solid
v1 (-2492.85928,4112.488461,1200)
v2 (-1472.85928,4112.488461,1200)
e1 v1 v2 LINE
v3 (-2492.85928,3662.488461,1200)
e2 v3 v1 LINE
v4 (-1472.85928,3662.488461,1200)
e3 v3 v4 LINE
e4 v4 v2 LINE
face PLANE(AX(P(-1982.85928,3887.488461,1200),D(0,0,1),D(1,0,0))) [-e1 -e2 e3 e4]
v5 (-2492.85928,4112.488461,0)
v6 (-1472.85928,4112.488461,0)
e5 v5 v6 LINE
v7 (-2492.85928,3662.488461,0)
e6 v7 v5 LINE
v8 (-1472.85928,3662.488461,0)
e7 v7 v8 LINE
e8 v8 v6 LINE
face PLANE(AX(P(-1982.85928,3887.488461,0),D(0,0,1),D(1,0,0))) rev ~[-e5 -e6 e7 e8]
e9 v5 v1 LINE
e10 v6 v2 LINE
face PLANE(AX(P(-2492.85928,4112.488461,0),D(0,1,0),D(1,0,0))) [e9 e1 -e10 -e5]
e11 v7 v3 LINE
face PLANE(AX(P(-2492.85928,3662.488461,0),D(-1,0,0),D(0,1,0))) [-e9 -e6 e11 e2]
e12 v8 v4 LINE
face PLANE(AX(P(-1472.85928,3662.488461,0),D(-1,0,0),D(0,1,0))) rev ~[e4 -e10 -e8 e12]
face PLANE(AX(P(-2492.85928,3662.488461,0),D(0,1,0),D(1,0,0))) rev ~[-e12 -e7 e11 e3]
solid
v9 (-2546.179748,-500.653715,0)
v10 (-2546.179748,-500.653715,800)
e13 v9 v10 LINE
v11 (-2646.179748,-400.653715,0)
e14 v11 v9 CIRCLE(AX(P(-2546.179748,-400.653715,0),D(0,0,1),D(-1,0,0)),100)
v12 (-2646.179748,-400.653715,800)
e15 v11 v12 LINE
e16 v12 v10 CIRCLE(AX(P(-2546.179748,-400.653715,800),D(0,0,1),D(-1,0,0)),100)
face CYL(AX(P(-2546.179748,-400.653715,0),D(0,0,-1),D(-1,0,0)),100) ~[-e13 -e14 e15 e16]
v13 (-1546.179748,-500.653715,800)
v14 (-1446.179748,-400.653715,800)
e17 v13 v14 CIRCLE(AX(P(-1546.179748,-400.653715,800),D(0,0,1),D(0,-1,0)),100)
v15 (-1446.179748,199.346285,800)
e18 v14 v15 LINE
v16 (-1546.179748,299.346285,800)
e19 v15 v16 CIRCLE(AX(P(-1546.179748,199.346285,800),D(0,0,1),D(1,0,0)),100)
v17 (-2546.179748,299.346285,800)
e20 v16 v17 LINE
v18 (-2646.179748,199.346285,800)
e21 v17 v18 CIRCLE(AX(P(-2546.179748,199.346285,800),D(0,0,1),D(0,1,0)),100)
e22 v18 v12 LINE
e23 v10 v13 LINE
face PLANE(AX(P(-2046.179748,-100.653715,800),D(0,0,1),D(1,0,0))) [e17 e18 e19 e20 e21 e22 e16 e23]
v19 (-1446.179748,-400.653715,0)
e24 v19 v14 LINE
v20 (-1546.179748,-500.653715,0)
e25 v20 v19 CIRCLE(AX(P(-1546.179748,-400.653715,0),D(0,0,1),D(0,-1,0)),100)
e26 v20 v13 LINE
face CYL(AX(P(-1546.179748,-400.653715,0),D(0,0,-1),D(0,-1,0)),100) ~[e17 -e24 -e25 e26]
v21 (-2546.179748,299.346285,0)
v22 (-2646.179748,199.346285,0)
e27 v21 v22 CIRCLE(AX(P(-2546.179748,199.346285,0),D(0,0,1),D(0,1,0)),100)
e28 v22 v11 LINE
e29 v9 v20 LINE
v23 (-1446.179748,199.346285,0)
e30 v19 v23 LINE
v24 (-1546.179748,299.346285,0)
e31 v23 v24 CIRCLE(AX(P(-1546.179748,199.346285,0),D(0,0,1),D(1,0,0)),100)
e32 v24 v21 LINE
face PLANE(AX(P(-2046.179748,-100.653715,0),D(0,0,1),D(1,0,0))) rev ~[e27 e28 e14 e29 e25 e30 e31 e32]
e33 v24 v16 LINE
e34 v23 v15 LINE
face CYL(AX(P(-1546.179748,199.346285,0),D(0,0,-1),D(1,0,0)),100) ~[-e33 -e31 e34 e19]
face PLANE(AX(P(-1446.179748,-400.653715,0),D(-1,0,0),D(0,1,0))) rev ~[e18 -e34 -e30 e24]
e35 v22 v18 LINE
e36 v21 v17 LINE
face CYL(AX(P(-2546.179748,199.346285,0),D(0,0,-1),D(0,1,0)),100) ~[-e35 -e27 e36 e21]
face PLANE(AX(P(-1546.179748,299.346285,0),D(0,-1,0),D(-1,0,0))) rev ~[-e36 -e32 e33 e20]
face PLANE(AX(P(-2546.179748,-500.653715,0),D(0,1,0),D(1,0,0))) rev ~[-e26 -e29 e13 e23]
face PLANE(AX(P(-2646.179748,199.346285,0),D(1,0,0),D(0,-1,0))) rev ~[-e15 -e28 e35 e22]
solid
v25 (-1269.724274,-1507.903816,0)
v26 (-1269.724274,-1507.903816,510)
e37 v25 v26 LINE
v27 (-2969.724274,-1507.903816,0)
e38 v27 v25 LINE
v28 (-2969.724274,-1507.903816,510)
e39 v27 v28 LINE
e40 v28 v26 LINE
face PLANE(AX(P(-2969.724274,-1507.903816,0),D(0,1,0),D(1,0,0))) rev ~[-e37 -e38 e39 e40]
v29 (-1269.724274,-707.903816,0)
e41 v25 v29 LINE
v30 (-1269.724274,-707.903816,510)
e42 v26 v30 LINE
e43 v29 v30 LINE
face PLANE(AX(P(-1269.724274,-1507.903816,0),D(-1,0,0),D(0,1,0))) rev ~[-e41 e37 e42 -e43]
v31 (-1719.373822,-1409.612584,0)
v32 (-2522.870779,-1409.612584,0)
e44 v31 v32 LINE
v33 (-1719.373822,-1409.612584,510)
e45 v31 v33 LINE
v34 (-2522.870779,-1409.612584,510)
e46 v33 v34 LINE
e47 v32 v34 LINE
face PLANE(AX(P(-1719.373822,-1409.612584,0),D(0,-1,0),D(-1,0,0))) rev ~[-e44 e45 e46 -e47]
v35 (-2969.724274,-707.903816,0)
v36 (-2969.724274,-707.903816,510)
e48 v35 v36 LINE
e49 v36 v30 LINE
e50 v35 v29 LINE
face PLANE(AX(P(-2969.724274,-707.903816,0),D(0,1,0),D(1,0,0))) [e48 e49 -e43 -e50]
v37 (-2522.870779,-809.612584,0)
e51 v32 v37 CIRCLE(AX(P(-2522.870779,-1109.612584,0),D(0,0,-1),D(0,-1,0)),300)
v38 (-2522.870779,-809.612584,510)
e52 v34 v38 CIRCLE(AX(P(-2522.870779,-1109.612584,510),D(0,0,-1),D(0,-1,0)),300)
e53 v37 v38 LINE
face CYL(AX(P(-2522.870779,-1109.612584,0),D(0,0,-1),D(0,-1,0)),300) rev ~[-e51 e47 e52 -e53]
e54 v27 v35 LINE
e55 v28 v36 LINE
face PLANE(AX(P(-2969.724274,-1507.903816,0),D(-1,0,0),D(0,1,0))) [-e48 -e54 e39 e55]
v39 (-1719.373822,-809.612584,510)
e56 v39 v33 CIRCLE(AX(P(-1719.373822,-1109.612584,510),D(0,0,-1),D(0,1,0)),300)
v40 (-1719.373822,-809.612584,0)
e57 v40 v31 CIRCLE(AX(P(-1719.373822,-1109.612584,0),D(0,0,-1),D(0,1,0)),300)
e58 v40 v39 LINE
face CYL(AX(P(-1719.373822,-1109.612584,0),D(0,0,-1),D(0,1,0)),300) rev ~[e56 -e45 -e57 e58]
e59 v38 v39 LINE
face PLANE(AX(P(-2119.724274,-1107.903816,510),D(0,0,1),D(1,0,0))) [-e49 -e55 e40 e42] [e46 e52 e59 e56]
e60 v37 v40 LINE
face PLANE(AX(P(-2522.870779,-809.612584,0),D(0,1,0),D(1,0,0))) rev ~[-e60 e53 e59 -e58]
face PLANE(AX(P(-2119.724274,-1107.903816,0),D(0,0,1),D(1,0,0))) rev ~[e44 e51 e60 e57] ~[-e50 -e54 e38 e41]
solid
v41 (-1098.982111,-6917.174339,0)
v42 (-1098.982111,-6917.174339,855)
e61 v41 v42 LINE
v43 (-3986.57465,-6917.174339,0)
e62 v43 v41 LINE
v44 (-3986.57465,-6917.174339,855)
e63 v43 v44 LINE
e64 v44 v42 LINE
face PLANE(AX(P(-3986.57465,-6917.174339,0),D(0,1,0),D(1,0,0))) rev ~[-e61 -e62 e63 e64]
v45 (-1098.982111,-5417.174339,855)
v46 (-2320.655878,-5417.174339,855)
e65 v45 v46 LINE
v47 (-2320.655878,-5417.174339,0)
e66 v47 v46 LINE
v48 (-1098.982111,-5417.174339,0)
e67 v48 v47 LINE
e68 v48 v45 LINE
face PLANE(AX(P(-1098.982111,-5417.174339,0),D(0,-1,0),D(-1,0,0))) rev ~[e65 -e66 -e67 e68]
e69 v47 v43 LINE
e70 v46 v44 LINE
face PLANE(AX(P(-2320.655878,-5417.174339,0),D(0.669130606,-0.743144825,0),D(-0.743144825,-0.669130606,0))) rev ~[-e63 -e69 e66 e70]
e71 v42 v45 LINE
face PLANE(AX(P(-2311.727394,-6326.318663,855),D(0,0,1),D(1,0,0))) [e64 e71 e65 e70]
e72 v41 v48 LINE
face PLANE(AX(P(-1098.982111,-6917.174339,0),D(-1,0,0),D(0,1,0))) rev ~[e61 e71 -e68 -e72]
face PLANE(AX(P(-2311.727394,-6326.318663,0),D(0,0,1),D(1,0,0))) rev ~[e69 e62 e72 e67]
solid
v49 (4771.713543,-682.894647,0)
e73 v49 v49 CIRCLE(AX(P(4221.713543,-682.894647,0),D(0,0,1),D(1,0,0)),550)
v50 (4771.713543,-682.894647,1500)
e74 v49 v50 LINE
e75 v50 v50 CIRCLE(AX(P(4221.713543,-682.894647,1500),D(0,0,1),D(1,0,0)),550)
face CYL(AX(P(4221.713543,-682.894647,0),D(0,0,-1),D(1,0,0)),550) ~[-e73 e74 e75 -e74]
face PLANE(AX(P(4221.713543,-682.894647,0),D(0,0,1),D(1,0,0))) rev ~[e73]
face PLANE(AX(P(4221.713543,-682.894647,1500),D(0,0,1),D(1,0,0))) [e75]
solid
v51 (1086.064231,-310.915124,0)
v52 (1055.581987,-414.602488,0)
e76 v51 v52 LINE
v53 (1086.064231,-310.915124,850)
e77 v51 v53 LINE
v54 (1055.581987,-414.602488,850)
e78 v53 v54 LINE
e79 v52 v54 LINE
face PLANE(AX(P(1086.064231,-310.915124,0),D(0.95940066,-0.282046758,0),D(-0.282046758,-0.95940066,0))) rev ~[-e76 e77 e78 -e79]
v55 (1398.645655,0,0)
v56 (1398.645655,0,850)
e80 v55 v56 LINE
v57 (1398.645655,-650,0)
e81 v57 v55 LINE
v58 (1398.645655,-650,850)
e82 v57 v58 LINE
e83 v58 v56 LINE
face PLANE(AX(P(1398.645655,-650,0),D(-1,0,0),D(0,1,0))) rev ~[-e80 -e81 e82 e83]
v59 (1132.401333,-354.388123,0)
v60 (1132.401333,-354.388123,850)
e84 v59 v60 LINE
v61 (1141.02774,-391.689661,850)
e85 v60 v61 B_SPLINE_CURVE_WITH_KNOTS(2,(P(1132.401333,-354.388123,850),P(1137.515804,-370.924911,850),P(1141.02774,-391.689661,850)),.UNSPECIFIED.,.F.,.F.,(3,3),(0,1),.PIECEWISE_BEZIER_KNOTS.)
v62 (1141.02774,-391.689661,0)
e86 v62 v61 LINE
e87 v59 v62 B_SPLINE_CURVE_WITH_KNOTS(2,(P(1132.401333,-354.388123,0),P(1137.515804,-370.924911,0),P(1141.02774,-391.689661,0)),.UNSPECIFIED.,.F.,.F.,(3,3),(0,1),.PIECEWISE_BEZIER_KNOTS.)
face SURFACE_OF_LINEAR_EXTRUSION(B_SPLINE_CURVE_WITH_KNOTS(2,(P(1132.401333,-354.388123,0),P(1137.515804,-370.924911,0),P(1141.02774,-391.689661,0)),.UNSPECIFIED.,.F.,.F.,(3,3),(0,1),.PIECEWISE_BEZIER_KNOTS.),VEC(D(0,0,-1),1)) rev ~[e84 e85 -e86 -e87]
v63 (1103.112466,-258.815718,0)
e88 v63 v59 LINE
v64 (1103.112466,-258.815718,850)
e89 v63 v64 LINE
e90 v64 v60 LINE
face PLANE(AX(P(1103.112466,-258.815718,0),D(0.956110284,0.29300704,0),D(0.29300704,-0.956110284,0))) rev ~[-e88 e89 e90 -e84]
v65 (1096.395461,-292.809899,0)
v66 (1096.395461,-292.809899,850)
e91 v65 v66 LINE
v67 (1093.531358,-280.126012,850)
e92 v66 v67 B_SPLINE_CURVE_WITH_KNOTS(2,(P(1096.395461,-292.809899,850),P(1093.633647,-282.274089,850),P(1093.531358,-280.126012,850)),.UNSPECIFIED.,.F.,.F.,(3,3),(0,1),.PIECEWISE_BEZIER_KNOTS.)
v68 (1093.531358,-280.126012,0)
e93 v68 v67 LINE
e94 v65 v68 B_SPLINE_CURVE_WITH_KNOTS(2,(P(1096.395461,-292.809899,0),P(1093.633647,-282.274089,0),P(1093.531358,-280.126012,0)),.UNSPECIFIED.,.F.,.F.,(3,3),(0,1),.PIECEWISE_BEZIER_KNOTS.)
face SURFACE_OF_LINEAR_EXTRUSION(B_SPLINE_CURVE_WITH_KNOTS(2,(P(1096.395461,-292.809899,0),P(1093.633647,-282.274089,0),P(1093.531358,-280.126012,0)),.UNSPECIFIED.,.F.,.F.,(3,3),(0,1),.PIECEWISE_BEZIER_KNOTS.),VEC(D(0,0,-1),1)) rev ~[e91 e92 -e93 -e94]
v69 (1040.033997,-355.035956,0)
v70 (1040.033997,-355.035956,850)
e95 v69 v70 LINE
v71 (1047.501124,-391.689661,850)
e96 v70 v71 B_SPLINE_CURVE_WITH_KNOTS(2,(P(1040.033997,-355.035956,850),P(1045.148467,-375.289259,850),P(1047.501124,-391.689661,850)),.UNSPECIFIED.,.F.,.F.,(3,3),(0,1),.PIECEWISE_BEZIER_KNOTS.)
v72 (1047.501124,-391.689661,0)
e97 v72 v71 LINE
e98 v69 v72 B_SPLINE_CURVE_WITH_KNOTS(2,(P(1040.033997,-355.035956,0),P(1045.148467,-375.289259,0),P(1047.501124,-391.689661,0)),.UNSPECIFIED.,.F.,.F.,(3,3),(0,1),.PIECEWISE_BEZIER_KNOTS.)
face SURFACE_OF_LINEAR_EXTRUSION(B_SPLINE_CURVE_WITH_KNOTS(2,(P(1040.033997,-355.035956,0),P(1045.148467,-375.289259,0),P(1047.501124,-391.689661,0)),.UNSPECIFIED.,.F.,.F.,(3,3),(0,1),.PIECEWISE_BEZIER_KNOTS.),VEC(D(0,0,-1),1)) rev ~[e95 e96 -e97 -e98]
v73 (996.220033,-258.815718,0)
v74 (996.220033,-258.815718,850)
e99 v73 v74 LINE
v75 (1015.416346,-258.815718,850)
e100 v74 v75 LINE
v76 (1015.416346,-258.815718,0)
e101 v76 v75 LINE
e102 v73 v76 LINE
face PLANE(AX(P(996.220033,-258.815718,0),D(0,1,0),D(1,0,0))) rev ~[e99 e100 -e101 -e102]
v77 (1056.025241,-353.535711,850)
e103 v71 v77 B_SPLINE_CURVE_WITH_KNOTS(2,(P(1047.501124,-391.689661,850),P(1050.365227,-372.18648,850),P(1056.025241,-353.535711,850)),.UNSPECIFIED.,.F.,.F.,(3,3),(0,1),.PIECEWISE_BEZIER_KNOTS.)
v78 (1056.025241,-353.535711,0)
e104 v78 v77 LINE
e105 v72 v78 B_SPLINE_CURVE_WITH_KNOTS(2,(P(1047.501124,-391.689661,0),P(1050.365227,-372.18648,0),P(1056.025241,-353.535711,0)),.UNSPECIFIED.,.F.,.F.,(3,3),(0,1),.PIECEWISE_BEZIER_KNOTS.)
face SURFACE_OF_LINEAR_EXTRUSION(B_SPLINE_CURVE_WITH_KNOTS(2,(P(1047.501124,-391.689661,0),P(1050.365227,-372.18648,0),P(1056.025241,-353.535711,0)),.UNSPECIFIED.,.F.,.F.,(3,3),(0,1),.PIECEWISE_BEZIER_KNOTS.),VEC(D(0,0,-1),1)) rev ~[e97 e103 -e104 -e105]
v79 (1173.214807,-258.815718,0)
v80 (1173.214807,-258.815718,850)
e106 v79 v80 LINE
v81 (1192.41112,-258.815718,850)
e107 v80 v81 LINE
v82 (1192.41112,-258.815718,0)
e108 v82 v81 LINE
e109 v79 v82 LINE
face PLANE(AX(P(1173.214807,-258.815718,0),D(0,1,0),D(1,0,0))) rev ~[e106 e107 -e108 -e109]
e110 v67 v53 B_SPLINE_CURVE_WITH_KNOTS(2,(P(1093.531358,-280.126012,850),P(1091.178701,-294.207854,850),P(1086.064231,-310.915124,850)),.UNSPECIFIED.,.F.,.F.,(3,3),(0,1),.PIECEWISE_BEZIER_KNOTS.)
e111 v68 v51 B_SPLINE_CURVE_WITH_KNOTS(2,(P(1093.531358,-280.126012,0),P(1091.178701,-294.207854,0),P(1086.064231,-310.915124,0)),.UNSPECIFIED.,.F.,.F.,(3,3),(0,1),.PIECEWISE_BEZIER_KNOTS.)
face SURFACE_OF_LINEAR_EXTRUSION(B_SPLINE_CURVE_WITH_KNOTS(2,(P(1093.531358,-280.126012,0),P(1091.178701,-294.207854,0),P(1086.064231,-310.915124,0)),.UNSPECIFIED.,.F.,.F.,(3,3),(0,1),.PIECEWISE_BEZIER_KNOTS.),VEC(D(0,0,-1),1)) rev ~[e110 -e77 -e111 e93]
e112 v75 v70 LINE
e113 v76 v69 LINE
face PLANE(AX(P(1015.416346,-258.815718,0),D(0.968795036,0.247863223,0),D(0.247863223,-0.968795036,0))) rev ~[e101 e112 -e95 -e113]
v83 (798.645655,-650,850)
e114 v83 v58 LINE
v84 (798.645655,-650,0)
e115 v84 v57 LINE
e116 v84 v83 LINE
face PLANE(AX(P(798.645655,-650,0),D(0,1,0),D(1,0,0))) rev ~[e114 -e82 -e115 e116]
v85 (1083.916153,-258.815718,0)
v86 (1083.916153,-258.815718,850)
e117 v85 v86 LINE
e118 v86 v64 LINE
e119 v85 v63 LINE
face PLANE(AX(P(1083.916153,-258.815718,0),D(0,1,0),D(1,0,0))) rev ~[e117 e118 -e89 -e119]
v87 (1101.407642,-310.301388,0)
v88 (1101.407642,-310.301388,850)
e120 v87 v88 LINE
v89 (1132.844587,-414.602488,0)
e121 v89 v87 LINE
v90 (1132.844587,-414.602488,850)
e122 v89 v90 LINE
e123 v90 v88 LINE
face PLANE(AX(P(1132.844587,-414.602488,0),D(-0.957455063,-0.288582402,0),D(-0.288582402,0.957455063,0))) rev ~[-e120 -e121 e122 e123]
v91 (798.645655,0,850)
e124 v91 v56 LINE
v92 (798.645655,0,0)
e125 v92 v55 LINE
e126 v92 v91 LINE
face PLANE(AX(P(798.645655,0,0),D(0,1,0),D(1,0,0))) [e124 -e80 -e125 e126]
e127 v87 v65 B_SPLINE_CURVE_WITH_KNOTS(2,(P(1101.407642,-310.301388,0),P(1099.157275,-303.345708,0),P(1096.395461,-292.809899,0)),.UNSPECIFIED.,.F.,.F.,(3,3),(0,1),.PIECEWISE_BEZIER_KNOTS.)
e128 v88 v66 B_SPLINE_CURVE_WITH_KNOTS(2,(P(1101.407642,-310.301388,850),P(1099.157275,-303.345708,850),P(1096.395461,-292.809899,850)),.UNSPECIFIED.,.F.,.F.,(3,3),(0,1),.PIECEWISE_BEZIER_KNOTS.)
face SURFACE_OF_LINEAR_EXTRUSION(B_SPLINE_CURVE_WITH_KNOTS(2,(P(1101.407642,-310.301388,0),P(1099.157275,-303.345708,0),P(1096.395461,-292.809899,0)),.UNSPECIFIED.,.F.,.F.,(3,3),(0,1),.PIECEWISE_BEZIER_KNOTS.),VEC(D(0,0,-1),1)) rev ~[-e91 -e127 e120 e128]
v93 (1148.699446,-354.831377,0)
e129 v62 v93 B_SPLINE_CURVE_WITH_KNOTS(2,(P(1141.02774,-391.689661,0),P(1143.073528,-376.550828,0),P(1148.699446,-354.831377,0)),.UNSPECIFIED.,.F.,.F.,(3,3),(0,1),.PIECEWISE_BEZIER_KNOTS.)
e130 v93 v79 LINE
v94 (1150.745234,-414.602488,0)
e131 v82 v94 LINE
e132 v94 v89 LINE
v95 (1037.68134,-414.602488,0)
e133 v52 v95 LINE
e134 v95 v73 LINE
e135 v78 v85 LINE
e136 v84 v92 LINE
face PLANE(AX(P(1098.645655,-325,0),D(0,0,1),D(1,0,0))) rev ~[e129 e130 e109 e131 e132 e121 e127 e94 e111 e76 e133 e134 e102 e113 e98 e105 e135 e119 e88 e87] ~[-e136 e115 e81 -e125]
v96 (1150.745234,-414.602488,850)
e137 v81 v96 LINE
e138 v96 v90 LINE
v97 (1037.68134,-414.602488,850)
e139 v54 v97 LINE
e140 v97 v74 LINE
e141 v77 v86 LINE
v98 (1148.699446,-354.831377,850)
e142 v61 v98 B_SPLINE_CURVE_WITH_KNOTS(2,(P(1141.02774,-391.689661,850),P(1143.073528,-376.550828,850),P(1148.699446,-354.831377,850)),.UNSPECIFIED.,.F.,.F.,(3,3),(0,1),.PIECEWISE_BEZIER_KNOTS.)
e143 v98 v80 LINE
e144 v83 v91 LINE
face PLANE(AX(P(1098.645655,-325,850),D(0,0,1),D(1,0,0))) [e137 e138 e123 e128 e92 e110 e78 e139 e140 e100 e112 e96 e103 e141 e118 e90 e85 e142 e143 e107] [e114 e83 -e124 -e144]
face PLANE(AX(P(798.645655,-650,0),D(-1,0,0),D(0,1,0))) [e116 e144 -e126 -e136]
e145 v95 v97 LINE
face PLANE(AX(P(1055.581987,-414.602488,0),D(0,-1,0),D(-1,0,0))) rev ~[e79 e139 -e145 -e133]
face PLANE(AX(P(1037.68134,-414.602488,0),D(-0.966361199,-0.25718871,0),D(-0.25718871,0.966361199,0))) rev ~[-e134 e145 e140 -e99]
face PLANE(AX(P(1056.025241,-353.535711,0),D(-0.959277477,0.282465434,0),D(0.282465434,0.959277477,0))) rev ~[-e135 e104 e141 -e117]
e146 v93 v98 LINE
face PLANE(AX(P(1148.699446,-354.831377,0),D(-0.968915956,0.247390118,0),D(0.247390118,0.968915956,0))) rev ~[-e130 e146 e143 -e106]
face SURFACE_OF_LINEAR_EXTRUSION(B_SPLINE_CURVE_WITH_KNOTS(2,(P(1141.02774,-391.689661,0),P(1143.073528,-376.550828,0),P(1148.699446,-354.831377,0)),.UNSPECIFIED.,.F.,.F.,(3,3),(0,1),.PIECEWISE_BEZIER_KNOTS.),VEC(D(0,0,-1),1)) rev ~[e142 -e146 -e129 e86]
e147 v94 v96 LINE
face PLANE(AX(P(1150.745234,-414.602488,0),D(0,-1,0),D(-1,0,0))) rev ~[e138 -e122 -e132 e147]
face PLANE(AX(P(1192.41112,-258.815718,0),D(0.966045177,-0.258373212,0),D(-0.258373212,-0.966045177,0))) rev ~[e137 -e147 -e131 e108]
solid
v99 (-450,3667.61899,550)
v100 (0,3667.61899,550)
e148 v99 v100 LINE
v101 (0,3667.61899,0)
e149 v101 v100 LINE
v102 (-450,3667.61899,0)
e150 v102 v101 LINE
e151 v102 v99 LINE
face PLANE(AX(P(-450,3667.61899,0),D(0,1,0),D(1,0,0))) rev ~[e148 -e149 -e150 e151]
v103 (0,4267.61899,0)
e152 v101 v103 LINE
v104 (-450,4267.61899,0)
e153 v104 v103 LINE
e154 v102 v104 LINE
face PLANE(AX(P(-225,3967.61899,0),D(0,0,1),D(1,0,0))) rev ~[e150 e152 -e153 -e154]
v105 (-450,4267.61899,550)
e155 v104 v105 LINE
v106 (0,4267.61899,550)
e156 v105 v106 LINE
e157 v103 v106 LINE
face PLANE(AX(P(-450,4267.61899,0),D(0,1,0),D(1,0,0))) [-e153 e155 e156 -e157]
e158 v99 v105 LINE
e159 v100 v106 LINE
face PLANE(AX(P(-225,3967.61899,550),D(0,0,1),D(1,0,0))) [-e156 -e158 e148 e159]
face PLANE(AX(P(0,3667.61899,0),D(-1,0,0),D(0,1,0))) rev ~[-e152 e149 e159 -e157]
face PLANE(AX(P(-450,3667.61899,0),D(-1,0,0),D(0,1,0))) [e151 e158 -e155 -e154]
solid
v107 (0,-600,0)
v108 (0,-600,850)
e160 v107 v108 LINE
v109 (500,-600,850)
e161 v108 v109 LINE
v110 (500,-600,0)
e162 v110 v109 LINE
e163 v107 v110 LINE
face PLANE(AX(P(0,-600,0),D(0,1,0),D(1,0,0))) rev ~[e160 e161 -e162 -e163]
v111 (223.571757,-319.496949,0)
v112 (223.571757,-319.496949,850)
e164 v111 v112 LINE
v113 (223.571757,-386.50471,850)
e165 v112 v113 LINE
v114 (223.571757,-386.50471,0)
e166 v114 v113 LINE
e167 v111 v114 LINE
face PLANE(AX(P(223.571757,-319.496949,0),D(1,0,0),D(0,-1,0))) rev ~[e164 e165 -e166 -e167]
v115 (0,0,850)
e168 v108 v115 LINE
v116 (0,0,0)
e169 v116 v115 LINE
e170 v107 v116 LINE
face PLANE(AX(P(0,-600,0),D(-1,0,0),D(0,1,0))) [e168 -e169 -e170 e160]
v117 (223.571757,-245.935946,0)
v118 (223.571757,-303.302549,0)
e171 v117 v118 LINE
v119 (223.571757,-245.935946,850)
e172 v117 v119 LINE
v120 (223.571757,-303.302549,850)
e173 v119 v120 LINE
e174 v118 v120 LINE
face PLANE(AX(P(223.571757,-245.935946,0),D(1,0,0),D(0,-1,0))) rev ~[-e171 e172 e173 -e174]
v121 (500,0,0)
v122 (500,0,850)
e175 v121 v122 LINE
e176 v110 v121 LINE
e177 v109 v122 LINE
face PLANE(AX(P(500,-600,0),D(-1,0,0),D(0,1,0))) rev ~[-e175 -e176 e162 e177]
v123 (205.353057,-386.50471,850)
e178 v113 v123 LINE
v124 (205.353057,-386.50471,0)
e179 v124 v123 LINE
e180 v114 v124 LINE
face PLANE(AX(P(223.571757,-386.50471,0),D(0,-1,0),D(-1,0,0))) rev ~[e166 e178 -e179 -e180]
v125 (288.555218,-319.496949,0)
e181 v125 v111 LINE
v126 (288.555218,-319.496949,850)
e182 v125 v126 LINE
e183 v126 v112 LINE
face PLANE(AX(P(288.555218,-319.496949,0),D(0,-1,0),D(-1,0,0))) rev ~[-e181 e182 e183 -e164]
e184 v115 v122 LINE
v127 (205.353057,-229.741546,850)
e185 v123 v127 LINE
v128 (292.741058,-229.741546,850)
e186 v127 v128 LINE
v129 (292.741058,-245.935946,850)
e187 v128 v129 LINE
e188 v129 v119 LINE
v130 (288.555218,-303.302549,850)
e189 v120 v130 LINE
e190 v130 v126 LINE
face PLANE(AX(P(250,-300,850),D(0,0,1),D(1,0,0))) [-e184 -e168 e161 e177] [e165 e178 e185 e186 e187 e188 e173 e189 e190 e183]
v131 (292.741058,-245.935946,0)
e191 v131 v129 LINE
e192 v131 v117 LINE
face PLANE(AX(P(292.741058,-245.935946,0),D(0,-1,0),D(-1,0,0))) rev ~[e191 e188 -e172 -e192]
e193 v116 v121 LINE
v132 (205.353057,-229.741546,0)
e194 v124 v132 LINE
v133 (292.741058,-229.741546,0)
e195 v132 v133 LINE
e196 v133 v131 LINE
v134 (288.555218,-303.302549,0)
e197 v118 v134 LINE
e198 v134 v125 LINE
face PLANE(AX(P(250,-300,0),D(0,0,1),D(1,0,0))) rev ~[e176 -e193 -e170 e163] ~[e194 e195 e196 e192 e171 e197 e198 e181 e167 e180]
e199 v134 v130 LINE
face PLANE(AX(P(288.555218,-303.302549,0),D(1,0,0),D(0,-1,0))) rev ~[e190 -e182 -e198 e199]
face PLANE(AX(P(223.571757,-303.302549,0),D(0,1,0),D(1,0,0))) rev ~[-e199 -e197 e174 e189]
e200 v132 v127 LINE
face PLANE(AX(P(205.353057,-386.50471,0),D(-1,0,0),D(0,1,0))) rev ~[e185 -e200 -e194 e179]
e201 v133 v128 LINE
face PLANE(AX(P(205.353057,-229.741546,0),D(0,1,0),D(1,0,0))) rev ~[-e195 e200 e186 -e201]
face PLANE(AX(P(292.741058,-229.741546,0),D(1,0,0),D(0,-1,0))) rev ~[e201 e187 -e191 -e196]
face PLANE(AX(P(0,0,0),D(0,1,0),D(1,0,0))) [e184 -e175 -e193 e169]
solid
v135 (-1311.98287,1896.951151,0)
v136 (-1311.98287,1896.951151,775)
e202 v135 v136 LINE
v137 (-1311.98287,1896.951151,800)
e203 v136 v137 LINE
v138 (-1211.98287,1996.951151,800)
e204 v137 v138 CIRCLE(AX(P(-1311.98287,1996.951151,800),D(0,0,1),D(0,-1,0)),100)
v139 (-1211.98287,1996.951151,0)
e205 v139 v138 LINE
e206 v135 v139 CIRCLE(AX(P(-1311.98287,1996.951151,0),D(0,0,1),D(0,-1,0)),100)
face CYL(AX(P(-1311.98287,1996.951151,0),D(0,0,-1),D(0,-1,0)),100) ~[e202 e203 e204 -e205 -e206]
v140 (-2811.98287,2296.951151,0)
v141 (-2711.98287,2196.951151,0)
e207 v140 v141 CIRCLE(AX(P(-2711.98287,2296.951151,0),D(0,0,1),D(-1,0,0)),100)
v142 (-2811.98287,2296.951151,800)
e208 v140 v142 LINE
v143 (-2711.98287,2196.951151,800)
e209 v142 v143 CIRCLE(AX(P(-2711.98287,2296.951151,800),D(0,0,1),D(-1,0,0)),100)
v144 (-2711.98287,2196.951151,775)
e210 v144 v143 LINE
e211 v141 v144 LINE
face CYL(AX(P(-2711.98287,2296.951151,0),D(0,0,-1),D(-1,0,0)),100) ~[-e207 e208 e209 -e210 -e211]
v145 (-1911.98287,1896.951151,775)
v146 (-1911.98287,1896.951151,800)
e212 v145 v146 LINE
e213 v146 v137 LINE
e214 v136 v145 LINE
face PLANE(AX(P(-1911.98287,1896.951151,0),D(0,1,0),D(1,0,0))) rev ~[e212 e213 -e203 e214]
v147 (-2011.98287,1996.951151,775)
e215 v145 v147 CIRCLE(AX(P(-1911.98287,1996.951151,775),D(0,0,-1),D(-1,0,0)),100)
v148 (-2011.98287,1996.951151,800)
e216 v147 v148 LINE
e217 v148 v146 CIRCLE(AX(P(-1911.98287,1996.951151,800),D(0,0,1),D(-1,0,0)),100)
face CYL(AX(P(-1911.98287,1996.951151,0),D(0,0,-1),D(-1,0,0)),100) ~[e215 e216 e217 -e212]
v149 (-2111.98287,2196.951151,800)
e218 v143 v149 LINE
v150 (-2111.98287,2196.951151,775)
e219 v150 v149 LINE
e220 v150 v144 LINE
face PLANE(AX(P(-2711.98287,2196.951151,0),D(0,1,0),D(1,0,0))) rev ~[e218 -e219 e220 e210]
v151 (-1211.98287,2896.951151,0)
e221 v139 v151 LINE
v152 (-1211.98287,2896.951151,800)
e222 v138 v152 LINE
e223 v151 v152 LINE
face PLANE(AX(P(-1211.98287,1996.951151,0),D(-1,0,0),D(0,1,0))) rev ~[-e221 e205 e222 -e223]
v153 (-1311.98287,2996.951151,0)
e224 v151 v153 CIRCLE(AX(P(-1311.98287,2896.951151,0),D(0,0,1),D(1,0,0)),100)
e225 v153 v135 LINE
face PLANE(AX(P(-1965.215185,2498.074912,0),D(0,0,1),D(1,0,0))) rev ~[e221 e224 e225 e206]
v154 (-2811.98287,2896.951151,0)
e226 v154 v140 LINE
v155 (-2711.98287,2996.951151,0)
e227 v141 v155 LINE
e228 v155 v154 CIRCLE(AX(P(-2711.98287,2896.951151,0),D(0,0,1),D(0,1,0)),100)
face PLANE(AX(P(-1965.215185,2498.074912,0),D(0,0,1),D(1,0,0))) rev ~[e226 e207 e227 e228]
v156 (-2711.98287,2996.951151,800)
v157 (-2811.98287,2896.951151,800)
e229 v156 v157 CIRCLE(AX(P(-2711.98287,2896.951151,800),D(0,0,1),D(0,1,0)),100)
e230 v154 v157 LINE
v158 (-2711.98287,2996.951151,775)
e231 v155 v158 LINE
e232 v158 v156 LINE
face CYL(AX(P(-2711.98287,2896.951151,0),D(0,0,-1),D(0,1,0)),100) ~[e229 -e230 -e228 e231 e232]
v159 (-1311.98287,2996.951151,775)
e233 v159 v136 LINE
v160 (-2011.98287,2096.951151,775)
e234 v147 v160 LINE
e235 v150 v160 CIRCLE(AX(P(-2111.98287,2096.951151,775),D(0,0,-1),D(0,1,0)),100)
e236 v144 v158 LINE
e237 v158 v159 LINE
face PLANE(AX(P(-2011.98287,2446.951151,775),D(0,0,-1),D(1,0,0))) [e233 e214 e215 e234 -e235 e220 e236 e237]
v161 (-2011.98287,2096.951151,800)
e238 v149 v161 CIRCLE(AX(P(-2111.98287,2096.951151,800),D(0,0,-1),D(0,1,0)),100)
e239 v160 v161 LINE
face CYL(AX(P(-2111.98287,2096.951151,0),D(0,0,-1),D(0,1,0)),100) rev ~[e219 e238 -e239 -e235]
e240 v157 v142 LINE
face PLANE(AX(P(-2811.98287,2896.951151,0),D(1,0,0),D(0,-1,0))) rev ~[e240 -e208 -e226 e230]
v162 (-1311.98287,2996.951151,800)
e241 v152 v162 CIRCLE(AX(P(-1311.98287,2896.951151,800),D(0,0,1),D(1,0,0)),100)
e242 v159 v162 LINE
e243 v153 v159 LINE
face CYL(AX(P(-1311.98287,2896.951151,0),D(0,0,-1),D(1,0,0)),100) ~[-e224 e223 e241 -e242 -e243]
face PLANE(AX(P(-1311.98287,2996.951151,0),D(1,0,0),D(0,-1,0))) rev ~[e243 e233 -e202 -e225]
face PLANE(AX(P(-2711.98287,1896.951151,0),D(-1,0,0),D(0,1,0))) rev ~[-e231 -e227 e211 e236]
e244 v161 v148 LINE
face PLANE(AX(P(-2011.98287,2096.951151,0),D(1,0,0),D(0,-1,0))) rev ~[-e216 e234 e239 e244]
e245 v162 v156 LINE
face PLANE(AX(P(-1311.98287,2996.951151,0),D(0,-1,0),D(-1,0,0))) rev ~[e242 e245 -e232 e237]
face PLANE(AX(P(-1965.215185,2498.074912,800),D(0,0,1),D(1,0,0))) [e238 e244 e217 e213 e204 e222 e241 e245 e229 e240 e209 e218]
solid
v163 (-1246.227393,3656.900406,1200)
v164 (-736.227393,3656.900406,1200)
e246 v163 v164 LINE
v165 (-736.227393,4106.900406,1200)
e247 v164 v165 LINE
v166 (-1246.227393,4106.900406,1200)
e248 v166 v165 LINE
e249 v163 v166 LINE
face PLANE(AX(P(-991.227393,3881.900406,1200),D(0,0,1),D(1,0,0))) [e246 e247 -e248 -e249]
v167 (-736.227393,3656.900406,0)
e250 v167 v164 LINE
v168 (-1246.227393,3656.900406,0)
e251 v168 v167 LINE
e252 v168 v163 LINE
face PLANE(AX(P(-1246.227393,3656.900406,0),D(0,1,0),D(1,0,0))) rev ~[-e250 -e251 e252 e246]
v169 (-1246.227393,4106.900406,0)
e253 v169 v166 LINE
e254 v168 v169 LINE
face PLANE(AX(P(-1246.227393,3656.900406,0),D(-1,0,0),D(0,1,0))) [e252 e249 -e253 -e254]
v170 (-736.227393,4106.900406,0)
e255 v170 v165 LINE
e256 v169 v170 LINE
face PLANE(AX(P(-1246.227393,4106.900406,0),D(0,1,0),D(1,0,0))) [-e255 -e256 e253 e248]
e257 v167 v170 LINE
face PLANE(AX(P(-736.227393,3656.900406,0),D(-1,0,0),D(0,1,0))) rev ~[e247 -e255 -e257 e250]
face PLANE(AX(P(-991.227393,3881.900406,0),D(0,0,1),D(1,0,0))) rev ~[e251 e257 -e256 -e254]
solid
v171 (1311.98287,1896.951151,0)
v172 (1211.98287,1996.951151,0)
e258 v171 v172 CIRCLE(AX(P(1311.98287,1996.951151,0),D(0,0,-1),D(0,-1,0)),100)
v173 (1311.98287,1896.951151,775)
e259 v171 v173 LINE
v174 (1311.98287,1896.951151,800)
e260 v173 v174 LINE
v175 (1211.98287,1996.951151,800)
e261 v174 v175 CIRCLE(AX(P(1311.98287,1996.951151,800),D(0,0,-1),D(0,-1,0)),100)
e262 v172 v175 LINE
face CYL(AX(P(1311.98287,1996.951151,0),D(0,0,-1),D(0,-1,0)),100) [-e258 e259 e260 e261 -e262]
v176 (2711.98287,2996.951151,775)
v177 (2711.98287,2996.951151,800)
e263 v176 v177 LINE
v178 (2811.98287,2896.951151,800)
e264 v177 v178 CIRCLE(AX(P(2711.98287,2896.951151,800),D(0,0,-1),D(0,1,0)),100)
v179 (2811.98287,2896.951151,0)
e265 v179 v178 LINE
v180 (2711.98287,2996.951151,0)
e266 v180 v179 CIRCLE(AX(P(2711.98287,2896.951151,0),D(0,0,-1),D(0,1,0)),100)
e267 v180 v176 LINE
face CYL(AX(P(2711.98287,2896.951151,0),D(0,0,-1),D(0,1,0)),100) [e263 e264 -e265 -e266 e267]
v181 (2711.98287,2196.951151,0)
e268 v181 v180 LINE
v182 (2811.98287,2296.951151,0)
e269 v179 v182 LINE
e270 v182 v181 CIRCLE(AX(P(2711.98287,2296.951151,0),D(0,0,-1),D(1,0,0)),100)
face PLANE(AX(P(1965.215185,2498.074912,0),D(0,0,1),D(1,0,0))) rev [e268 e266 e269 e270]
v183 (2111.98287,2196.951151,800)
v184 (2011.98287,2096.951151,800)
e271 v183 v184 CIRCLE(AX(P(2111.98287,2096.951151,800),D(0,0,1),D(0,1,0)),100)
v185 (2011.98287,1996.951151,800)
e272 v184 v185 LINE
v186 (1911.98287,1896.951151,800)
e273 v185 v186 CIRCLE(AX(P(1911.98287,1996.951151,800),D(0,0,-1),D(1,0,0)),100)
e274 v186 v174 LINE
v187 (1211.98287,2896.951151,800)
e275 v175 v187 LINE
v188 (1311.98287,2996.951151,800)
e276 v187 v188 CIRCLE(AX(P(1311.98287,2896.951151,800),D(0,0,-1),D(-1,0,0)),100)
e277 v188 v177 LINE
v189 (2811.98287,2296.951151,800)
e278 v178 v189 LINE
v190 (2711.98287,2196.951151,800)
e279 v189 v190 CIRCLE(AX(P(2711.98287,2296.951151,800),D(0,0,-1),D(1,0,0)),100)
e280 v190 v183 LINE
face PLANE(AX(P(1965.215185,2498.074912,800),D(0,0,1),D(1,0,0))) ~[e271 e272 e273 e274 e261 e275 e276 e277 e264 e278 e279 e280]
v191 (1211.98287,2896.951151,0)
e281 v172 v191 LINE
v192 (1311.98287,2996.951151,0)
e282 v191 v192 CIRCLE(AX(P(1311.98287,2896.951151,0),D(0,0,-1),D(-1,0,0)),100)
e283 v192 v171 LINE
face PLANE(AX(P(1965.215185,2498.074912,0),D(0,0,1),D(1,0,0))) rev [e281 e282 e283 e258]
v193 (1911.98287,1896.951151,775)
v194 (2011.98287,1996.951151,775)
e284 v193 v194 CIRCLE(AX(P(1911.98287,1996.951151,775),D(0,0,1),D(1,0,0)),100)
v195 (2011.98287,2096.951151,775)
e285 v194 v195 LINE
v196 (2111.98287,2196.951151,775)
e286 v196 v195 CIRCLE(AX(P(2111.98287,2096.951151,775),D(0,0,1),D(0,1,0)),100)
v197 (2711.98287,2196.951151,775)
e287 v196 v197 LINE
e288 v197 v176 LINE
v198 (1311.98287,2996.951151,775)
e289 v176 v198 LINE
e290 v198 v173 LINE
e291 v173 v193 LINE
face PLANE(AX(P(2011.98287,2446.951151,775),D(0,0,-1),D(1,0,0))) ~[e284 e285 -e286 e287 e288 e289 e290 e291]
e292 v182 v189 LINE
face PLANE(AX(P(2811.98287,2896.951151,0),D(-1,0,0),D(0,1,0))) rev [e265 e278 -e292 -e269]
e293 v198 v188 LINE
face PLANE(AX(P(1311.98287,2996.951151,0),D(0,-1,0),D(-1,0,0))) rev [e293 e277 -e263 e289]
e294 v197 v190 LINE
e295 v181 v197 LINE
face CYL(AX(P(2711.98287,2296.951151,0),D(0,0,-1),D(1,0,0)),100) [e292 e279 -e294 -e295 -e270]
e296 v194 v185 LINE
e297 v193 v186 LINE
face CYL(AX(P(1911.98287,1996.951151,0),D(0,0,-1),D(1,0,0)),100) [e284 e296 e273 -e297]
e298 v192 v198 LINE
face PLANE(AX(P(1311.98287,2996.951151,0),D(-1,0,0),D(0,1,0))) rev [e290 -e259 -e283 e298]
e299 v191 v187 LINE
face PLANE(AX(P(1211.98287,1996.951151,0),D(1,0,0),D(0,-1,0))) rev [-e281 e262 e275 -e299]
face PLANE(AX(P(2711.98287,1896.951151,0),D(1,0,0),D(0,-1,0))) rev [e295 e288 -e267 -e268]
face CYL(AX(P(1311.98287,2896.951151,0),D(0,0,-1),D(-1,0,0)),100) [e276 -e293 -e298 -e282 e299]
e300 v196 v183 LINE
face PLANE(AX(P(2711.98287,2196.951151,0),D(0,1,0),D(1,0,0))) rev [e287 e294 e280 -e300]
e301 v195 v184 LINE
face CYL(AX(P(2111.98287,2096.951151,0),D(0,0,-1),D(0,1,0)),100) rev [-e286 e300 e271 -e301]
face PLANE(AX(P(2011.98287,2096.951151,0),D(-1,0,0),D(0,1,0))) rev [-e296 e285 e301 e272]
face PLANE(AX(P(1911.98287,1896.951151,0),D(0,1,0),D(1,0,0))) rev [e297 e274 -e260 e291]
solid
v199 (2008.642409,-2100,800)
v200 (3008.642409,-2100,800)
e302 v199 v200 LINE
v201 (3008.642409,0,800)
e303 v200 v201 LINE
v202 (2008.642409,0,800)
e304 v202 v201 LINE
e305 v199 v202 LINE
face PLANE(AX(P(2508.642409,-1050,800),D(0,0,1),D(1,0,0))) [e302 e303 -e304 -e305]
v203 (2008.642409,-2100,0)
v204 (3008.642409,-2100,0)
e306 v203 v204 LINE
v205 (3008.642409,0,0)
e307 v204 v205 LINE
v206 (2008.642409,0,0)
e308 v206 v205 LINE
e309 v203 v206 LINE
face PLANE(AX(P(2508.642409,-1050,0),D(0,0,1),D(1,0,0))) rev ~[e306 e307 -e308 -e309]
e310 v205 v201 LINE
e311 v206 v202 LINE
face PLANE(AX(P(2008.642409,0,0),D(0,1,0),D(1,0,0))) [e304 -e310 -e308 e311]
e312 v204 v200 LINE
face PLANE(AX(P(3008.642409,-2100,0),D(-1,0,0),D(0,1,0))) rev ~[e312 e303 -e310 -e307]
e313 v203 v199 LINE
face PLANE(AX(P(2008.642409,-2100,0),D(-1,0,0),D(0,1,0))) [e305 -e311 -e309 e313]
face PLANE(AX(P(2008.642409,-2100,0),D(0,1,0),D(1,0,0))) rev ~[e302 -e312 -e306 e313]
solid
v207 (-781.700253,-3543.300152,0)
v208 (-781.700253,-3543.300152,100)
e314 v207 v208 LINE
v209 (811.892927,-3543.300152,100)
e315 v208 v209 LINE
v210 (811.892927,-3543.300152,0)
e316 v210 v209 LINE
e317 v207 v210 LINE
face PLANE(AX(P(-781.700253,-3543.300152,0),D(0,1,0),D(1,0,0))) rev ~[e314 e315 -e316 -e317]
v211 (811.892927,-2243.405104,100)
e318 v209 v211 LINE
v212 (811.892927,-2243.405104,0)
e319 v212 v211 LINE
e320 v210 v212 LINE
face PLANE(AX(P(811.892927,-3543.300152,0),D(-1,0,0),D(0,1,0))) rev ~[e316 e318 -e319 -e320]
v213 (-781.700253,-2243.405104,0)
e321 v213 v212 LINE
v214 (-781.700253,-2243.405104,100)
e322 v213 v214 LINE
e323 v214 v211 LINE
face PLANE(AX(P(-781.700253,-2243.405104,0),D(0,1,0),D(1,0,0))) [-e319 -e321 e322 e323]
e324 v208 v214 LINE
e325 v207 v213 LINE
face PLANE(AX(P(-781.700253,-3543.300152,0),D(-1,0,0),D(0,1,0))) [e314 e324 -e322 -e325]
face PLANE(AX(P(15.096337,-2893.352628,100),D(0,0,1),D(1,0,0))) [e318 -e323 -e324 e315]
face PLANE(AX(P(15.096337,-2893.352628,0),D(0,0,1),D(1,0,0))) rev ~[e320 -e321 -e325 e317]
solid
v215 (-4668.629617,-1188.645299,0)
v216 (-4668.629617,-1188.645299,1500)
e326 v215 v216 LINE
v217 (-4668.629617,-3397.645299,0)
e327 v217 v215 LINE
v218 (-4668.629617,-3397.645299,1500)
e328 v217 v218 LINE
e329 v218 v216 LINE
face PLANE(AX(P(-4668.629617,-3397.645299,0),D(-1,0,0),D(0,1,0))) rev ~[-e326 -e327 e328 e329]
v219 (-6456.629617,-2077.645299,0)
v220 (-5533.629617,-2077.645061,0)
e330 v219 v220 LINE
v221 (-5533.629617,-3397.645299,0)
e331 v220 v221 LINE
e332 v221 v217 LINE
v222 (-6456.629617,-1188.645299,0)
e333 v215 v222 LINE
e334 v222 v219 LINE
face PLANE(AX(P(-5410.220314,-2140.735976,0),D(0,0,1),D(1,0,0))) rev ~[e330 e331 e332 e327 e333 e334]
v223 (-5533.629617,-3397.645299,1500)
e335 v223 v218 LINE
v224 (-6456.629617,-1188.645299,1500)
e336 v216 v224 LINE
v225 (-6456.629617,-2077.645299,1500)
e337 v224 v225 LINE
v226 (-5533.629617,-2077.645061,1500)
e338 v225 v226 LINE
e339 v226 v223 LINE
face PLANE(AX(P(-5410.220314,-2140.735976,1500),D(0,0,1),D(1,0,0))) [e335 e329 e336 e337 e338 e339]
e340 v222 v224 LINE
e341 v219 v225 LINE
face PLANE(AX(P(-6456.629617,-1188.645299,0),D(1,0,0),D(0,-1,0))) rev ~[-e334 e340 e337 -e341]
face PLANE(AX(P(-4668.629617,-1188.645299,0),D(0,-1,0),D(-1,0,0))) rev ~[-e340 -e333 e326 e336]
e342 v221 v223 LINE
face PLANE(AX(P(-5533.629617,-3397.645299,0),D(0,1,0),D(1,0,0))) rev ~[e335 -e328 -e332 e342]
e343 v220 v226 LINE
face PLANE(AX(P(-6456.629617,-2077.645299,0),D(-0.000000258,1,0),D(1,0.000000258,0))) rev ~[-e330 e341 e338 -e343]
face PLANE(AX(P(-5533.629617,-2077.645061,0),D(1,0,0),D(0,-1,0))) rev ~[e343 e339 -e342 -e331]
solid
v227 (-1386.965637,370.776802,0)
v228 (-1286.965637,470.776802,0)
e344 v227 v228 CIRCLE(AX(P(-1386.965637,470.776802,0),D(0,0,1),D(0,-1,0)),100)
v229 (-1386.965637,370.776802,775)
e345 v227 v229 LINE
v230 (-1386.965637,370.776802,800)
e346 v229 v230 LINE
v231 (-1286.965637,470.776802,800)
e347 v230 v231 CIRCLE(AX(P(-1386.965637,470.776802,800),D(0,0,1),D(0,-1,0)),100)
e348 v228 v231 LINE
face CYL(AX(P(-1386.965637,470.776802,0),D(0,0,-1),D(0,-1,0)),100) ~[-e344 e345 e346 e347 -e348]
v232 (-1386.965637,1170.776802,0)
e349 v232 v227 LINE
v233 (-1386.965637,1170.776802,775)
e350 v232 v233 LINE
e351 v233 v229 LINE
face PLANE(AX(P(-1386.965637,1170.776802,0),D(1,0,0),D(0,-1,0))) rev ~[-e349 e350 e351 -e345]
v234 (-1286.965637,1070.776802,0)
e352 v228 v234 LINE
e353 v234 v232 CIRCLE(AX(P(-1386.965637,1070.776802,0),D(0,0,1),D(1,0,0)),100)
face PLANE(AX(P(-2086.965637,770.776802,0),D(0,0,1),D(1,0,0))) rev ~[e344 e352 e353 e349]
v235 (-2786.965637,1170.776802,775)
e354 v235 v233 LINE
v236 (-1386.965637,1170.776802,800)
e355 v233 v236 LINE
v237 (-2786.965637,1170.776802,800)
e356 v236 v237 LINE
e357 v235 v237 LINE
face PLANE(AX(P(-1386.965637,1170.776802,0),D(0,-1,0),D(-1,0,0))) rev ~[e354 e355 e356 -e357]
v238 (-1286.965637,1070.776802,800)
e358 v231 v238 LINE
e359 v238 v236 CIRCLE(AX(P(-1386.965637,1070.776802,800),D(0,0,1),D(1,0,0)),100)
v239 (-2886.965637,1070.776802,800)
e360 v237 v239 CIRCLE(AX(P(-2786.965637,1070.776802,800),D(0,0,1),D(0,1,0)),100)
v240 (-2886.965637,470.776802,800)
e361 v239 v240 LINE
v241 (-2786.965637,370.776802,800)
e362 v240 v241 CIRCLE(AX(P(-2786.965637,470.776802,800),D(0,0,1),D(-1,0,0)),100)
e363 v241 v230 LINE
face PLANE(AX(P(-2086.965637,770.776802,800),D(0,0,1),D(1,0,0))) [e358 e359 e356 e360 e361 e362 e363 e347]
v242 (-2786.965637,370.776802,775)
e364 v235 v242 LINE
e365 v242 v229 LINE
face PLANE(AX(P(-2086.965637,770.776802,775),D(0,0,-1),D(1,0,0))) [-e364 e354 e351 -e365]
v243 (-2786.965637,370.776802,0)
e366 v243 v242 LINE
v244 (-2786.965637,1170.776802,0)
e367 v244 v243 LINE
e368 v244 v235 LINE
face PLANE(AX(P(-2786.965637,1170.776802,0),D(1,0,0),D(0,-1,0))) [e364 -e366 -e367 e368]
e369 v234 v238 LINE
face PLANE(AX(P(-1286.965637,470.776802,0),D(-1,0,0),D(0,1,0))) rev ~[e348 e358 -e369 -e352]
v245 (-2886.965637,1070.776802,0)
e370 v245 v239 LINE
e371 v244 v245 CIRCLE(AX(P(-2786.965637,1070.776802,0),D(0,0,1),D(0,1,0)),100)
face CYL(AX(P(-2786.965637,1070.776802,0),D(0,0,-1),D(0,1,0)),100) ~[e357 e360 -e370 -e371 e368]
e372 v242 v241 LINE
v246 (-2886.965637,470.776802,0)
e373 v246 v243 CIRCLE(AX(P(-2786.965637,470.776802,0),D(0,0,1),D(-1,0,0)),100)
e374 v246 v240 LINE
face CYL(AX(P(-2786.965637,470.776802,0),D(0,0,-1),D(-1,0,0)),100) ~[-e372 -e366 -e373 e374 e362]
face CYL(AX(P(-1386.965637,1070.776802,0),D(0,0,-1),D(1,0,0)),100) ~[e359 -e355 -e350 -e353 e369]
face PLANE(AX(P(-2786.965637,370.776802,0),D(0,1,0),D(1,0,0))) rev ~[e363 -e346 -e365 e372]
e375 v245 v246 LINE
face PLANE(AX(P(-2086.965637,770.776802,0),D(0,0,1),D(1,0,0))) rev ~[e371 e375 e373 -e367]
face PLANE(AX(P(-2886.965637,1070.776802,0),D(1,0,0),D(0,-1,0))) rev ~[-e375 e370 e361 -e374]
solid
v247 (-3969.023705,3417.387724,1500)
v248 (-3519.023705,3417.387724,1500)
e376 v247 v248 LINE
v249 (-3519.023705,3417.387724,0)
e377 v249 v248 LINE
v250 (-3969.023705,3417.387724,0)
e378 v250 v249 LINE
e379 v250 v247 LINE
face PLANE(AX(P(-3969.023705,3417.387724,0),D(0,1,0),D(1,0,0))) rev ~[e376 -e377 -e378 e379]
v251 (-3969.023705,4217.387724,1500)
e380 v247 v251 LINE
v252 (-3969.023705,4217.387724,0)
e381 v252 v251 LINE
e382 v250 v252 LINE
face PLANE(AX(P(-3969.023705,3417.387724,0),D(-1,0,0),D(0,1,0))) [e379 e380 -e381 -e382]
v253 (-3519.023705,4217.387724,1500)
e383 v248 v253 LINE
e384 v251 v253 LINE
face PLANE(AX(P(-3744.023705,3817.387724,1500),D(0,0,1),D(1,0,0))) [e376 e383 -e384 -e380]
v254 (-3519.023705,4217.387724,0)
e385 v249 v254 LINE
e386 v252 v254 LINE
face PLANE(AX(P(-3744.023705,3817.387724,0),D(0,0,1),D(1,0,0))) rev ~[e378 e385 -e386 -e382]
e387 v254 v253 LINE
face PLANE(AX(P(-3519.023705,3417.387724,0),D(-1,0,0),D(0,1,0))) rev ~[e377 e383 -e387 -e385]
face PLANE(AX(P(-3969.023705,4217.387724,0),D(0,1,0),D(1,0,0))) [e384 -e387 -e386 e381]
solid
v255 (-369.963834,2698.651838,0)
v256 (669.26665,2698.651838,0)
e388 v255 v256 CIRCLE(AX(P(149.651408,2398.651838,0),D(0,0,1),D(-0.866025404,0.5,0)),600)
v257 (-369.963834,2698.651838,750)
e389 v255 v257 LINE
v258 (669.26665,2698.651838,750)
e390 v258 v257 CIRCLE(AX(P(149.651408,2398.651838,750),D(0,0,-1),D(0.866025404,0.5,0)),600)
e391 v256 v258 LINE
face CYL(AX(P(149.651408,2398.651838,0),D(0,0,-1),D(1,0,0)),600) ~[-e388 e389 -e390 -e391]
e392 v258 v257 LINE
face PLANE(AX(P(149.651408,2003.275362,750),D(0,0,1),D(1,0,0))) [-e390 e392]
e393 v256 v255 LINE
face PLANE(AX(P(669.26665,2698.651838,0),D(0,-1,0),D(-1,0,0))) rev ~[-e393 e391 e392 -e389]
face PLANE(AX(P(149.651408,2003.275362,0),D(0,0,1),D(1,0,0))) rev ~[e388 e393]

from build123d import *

# Parameters (mm, degrees)
F0_W      = 500
F0_H      = 600
F1_DEPTH  = 850
F2_W      = 600
F2_H      = 650
F3_DEPTH  = 850
F4_W      = 1000
F4_H      = 2100
F5_DEPTH  = 800
F6_R      = 550
F7_DEPTH  = 1500
F8_W      = 1700
F8_H      = 800
F9_DEPTH  = 510
F11_DEPTH = 855
F12_W     = 1593.5931801796
F12_H     = 1299.8950481415
F13_DEPTH = 100
F15_DEPTH = 800
F17_DEPTH = 800
F18_W     = 1020
F18_H     = 450
F19_DEPTH = 1200
F21_DEPTH = 750
F23_DEPTH = 800
F24_W     = 510
F24_H     = 450
F25_DEPTH = 1200
F26_W     = 450
F26_H     = 600
F27_DEPTH = 550
F28_W     = 1400
F28_H     = 800
F29_DEPTH = 775
F31_DEPTH = 775
F33_W     = 450
F33_H     = 800
F34_DEPTH = 1500
F36_DEPTH = 1500


with BuildPart() as f1:
    # F0 (on Top) → F1 (new body)
    with BuildSketch(Plane.XY):
        with Locations((250, -300)):
            Rectangle(F0_W, F0_H)
        Polygon((223.5717567124, -319.4969488541), (223.5717567124, -386.5047097206), (205.3530567533, -386.5047097206), (205.3530567533, -229.7415456657), (292.741058252, -229.7415456657), (292.741058252, -245.9359456293), (223.5717567124, -245.9359456293), (223.5717567124, -303.3025488904), (288.5552175835, -303.3025488904), (288.5552175835, -319.4969488541), align=None, mode=Mode.SUBTRACT)
    extrude(amount=F1_DEPTH)


with BuildPart() as f3:
    # F2 (on Top) → F3 (new body)
    with BuildSketch(Plane.XY):
        with Locations((1098.6456545318, -325)):
            Rectangle(F2_W, F2_H)
        with BuildLine():
            Line((1192.4111198944, -258.8157182715), (1150.7452339348, -414.6024882793))
            Line((1150.7452339348, -414.6024882793), (1132.8445873482, -414.6024882793))
            Line((1132.8445873482, -414.6024882793), (1101.4076422952, -310.3013875015))
            add(Edge.make_bspline(
                [(1101.4076422952, -310.3013875015), (1099.1572752957, -303.345707685), (1096.3954612509, -292.8098985511)],
                knots=[0, 0, 0, 1, 1, 1], degree=2))
            add(Edge.make_bspline(
                [(1096.3954612509, -292.8098985511), (1093.6336472061, -282.2740894173), (1093.5313577971, -280.1260118269)],
                knots=[0, 0, 0, 1, 1, 1], degree=2))
            add(Edge.make_bspline(
                [(1093.5313577971, -280.1260118269), (1091.1787013885, -294.2078538084), (1086.0642309352, -310.9151239559)],
                knots=[0, 0, 0, 1, 1, 1], degree=2))
            Line((1086.0642309352, -310.9151239559), (1055.5819870335, -414.6024882793))
            Line((1055.5819870335, -414.6024882793), (1037.6813404469, -414.6024882793))
            Line((1037.6813404469, -414.6024882793), (996.2200333054, -258.8157182715))
            Line((996.2200333054, -258.8157182715), (1015.4163457402, -258.8157182715))
            Line((1015.4163457402, -258.8157182715), (1040.0339968554, -355.0359557331))
            add(Edge.make_bspline(
                [(1040.0339968554, -355.0359557331), (1045.1484673087, -375.2892587282), (1047.5011237173, -391.6896606485)],
                knots=[0, 0, 0, 1, 1, 1], degree=2))
            add(Edge.make_bspline(
                [(1047.5011237173, -391.6896606485), (1050.3652271711, -372.1864799865), (1056.0252411394, -353.5357110668)],
                knots=[0, 0, 0, 1, 1, 1], degree=2))
            Line((1056.0252411394, -353.5357110668), (1083.9161533448, -258.8157182715))
            Line((1083.9161533448, -258.8157182715), (1103.1124657796, -258.8157182715))
            Line((1103.1124657796, -258.8157182715), (1132.4013332422, -354.388122809))
            add(Edge.make_bspline(
                [(1132.4013332422, -354.388122809), (1137.5158036956, -370.9249106081), (1141.0277400735, -391.6896606485)],
                knots=[0, 0, 0, 1, 1, 1], degree=2))
            add(Edge.make_bspline(
                [(1141.0277400735, -391.6896606485), (1143.0735282548, -376.5508281067), (1148.6994457535, -354.831376915)],
                knots=[0, 0, 0, 1, 1, 1], degree=2))
            Line((1148.6994457535, -354.831376915), (1173.2148074597, -258.8157182715))
            Line((1173.2148074597, -258.8157182715), (1192.4111198944, -258.8157182715))
        make_face(mode=Mode.SUBTRACT)
    extrude(amount=F3_DEPTH)


with BuildPart() as f5:
    # F4 (on Top) → F5 (new body)
    with BuildSketch(Plane.XY):
        with Locations((2508.6424085116, -1050)):
            Rectangle(F4_W, F4_H)
    extrude(amount=F5_DEPTH)


with BuildPart() as f7:
    # F6 (on Top) → F7 (new body)
    with BuildSketch(Plane.XY):
        with Locations((4221.7135429382, -682.8946471214)):
            Circle(F6_R)
    extrude(amount=F7_DEPTH)


with BuildPart() as f9:
    # F8 (on Top) → F9 (new body)
    with BuildSketch(Plane.XY):
        with Locations((-2119.7242736816, -1107.903816368)):
            Rectangle(F8_W, F8_H)
        with BuildLine():
            Line((-1719.3738222122, -1409.6125841141), (-2522.8707790375, -1409.6125841141))
            ThreePointArc((-2522.8707790375, -1409.6125841141), (-2822.8707790375, -1109.6125841141), (-2522.8707790375, -809.6125841141))
            Line((-2522.8707790375, -809.6125841141), (-1719.3738222122, -809.6125841141))
            ThreePointArc((-1719.3738222122, -809.6125841141), (-1419.3738222122, -1109.6125841141), (-1719.3738222122, -1409.6125841141))
        make_face(mode=Mode.SUBTRACT)
    extrude(amount=F9_DEPTH)


with BuildPart() as f11:
    # F10 (on Top) → F11 (new body)
    with BuildSketch(Plane.XY):
        Polygon((-2320.655877567, -5417.1743392944), (-3986.5746498108, -6917.1743392944), (-1098.9821112549, -6917.1743392944), (-1098.9821112549, -5417.1743392944), align=None)
    extrude(amount=F11_DEPTH)


with BuildPart() as f13:
    # F12 (on Top) → F13 (new body)
    with BuildSketch(Plane.XY):
        with Locations((15.0963366032, -2893.3526277542)):
            Rectangle(F12_W, F12_H)
    extrude(amount=F13_DEPTH)


with BuildPart() as f15:
    # F14 (on Top) → F15 (new body)
    with BuildSketch(Plane.XY):
        with BuildLine():
            Line((-1386.965637207, 1170.7768023014), (-2786.965637207, 1170.7768023014))
            ThreePointArc((-2786.965637207, 1170.7768023014), (-2857.6763153257, 1141.4874804201), (-2886.965637207, 1070.7768023014))
            Line((-2886.965637207, 1070.7768023014), (-2886.965637207, 470.7768023014))
            ThreePointArc((-2886.965637207, 470.7768023014), (-2857.6763153257, 400.0661241828), (-2786.965637207, 370.7768023014))
            Line((-2786.965637207, 370.7768023014), (-1386.965637207, 370.7768023014))
            ThreePointArc((-1386.965637207, 370.7768023014), (-1316.2549590884, 400.0661241828), (-1286.965637207, 470.7768023014))
            Line((-1286.965637207, 470.7768023014), (-1286.965637207, 1070.7768023014))
            ThreePointArc((-1286.965637207, 1070.7768023014), (-1316.2549590884, 1141.4874804201), (-1386.965637207, 1170.7768023014))
        make_face()
    extrude(amount=F15_DEPTH)

    # F28 (on face) → F29 (cut)
    with BuildSketch(Plane(origin=(0, 0, 0), x_dir=(1, 0, 0), z_dir=(0, 0, -1))):
        with Locations((-2086.965637207, -770.7768023014)):
            Rectangle(F28_W, F28_H)
    extrude(amount=-F29_DEPTH, mode=Mode.SUBTRACT)


with BuildPart() as f17:
    # F16 (on Top) → F17 (new body)
    with BuildSketch(Plane.XY):
        with BuildLine():
            Line((-1311.9828701019, 2996.9511508942), (-2711.9828701019, 2996.9511508942))
            ThreePointArc((-2711.9828701019, 2996.9511508942), (-2782.6935482206, 2967.6618290128), (-2811.9828701019, 2896.9511508942))
            Line((-2811.9828701019, 2896.9511508942), (-2811.9828701019, 2296.9511508942))
            ThreePointArc((-2811.9828701019, 2296.9511508942), (-2782.6935482206, 2226.2404727755), (-2711.9828701019, 2196.9511508942))
            Line((-2711.9828701019, 2196.9511508942), (-2111.9828701019, 2196.9511508942))
            ThreePointArc((-2111.9828701019, 2196.9511508942), (-2041.2721919833, 2167.6618290128), (-2011.9828701019, 2096.9511508942))
            Line((-2011.9828701019, 2096.9511508942), (-2011.9828701019, 1996.9511508942))
            ThreePointArc((-2011.9828701019, 1996.9511508942), (-1982.6935482206, 1926.2404727755), (-1911.9828701019, 1896.9511508942))
            Line((-1911.9828701019, 1896.9511508942), (-1311.9828701019, 1896.9511508942))
            ThreePointArc((-1311.9828701019, 1896.9511508942), (-1241.2721919833, 1926.2404727755), (-1211.9828701019, 1996.9511508942))
            Line((-1211.9828701019, 1996.9511508942), (-1211.9828701019, 2896.9511508942))
            ThreePointArc((-1211.9828701019, 2896.9511508942), (-1241.2721919833, 2967.6618290128), (-1311.9828701019, 2996.9511508942))
        make_face()
    extrude(amount=F17_DEPTH)

    # F30 (on face) → F31 (cut)
    with BuildSketch(Plane(origin=(0, 0, 0), x_dir=(1, 0, 0), z_dir=(0, 0, -1))):
        Polygon((-2711.9828701019, -1896.9511508942), (-2711.9828701019, -2196.9511508942), (-2711.9828701019, -2996.9511508942), (-1311.9828701019, -2996.9511508942), (-1311.9828701019, -1896.9511508942), align=None)
    extrude(amount=-F31_DEPTH, mode=Mode.SUBTRACT)


with BuildPart() as f19:
    # F18 (on Top) → F19 (new body)
    with BuildSketch(Plane.XY):
        with Locations((-1982.8592801094, 3887.4884605408)):
            Rectangle(F18_W, F18_H)
    extrude(amount=F19_DEPTH)


with BuildPart() as f21:
    # F20 (on Top) → F21 (new body)
    with BuildSketch(Plane.XY):
        with BuildLine():
            ThreePointArc((-369.9638340752, 2098.6518383026), (149.6514081955, 1798.6518383026), (669.2666504662, 2098.6518383026))
            Line((669.2666504662, 2098.6518383026), (-369.9638340752, 2098.6518383026))
        make_face()
        with BuildLine():
            ThreePointArc((669.2666504662, 2098.6518383026), (729.2069039689, 2243.3604112411), (749.6514081955, 2398.6518383026))
            ThreePointArc((749.6514081955, 2398.6518383026), (729.2069039689, 2553.9432653641), (669.2666504662, 2698.6518383026))
            Line((669.2666504662, 2698.6518383026), (-369.9638340752, 2698.6518383026))
            ThreePointArc((-369.9638340752, 2698.6518383026), (-450.3485918045, 2398.6518383026), (-369.9638340752, 2098.6518383026))
            Line((-369.9638340752, 2098.6518383026), (669.2666504662, 2098.6518383026))
        make_face()
    extrude(amount=F21_DEPTH)


with BuildPart() as f23:
    # F22 (on Top) → F23 (new body)
    with BuildSketch(Plane.XY):
        with BuildLine():
            Line((-1546.1797475815, 299.3462848663), (-2546.1797475815, 299.3462848663))
            ThreePointArc((-2546.1797475815, 299.3462848663), (-2616.8904257001, 270.056962985), (-2646.1797475815, 199.3462848663))
            Line((-2646.1797475815, 199.3462848663), (-2646.1797475815, -400.6537151337))
            ThreePointArc((-2646.1797475815, -400.6537151337), (-2616.8904257001, -471.3643932523), (-2546.1797475815, -500.6537151337))
            Line((-2546.1797475815, -500.6537151337), (-1546.1797475815, -500.6537151337))
            ThreePointArc((-1546.1797475815, -500.6537151337), (-1475.4690694628, -471.3643932523), (-1446.1797475815, -400.6537151337))
            Line((-1446.1797475815, -400.6537151337), (-1446.1797475815, 199.3462848663))
            ThreePointArc((-1446.1797475815, 199.3462848663), (-1475.4690694628, 270.056962985), (-1546.1797475815, 299.3462848663))
        make_face()
    extrude(amount=F23_DEPTH)


with BuildPart() as f25:
    # F24 (on Top) → F25 (new body)
    with BuildSketch(Plane.XY):
        with Locations((-991.2273931503, 3881.9004058838)):
            Rectangle(F24_W, F24_H)
    extrude(amount=F25_DEPTH)


with BuildPart() as f27:
    # F26 (on Top) → F27 (new body)
    with BuildSketch(Plane.XY):
        with Locations((-225, 3967.6189899445)):
            Rectangle(F26_W, F26_H)
    extrude(amount=F27_DEPTH)


with BuildPart() as f32_1:
    # F32: instance of F17
    add(f17.part.mirror(Plane.YZ))


with BuildPart() as f34:
    # F33 (on Top) → F34 (new body)
    with BuildSketch(Plane.XY):
        with Locations((-3744.0237045288, 3817.3877239227)):
            Rectangle(F33_W, F33_H)
    extrude(amount=F34_DEPTH)


with BuildPart() as f36:
    # F35 (on Top) → F36 (new body)
    with BuildSketch(Plane.XY):
        Polygon((-4668.6296169174, -1188.6452989578), (-6456.6296169174, -1188.6452989578), (-6456.6296169174, -2077.6452989578), (-5533.6296169174, -2077.6450608453), (-5533.6296169174, -3397.6452989578), (-4668.6296169174, -3397.6452989578), align=None)
    extrude(amount=F36_DEPTH)


solid = Compound([f1.part, f3.part, f5.part, f7.part, f9.part, f11.part, f13.part, f15.part, f17.part, f19.part, f21.part, f23.part, f25.part, f27.part, f32_1.part, f34.part, f36.part])
